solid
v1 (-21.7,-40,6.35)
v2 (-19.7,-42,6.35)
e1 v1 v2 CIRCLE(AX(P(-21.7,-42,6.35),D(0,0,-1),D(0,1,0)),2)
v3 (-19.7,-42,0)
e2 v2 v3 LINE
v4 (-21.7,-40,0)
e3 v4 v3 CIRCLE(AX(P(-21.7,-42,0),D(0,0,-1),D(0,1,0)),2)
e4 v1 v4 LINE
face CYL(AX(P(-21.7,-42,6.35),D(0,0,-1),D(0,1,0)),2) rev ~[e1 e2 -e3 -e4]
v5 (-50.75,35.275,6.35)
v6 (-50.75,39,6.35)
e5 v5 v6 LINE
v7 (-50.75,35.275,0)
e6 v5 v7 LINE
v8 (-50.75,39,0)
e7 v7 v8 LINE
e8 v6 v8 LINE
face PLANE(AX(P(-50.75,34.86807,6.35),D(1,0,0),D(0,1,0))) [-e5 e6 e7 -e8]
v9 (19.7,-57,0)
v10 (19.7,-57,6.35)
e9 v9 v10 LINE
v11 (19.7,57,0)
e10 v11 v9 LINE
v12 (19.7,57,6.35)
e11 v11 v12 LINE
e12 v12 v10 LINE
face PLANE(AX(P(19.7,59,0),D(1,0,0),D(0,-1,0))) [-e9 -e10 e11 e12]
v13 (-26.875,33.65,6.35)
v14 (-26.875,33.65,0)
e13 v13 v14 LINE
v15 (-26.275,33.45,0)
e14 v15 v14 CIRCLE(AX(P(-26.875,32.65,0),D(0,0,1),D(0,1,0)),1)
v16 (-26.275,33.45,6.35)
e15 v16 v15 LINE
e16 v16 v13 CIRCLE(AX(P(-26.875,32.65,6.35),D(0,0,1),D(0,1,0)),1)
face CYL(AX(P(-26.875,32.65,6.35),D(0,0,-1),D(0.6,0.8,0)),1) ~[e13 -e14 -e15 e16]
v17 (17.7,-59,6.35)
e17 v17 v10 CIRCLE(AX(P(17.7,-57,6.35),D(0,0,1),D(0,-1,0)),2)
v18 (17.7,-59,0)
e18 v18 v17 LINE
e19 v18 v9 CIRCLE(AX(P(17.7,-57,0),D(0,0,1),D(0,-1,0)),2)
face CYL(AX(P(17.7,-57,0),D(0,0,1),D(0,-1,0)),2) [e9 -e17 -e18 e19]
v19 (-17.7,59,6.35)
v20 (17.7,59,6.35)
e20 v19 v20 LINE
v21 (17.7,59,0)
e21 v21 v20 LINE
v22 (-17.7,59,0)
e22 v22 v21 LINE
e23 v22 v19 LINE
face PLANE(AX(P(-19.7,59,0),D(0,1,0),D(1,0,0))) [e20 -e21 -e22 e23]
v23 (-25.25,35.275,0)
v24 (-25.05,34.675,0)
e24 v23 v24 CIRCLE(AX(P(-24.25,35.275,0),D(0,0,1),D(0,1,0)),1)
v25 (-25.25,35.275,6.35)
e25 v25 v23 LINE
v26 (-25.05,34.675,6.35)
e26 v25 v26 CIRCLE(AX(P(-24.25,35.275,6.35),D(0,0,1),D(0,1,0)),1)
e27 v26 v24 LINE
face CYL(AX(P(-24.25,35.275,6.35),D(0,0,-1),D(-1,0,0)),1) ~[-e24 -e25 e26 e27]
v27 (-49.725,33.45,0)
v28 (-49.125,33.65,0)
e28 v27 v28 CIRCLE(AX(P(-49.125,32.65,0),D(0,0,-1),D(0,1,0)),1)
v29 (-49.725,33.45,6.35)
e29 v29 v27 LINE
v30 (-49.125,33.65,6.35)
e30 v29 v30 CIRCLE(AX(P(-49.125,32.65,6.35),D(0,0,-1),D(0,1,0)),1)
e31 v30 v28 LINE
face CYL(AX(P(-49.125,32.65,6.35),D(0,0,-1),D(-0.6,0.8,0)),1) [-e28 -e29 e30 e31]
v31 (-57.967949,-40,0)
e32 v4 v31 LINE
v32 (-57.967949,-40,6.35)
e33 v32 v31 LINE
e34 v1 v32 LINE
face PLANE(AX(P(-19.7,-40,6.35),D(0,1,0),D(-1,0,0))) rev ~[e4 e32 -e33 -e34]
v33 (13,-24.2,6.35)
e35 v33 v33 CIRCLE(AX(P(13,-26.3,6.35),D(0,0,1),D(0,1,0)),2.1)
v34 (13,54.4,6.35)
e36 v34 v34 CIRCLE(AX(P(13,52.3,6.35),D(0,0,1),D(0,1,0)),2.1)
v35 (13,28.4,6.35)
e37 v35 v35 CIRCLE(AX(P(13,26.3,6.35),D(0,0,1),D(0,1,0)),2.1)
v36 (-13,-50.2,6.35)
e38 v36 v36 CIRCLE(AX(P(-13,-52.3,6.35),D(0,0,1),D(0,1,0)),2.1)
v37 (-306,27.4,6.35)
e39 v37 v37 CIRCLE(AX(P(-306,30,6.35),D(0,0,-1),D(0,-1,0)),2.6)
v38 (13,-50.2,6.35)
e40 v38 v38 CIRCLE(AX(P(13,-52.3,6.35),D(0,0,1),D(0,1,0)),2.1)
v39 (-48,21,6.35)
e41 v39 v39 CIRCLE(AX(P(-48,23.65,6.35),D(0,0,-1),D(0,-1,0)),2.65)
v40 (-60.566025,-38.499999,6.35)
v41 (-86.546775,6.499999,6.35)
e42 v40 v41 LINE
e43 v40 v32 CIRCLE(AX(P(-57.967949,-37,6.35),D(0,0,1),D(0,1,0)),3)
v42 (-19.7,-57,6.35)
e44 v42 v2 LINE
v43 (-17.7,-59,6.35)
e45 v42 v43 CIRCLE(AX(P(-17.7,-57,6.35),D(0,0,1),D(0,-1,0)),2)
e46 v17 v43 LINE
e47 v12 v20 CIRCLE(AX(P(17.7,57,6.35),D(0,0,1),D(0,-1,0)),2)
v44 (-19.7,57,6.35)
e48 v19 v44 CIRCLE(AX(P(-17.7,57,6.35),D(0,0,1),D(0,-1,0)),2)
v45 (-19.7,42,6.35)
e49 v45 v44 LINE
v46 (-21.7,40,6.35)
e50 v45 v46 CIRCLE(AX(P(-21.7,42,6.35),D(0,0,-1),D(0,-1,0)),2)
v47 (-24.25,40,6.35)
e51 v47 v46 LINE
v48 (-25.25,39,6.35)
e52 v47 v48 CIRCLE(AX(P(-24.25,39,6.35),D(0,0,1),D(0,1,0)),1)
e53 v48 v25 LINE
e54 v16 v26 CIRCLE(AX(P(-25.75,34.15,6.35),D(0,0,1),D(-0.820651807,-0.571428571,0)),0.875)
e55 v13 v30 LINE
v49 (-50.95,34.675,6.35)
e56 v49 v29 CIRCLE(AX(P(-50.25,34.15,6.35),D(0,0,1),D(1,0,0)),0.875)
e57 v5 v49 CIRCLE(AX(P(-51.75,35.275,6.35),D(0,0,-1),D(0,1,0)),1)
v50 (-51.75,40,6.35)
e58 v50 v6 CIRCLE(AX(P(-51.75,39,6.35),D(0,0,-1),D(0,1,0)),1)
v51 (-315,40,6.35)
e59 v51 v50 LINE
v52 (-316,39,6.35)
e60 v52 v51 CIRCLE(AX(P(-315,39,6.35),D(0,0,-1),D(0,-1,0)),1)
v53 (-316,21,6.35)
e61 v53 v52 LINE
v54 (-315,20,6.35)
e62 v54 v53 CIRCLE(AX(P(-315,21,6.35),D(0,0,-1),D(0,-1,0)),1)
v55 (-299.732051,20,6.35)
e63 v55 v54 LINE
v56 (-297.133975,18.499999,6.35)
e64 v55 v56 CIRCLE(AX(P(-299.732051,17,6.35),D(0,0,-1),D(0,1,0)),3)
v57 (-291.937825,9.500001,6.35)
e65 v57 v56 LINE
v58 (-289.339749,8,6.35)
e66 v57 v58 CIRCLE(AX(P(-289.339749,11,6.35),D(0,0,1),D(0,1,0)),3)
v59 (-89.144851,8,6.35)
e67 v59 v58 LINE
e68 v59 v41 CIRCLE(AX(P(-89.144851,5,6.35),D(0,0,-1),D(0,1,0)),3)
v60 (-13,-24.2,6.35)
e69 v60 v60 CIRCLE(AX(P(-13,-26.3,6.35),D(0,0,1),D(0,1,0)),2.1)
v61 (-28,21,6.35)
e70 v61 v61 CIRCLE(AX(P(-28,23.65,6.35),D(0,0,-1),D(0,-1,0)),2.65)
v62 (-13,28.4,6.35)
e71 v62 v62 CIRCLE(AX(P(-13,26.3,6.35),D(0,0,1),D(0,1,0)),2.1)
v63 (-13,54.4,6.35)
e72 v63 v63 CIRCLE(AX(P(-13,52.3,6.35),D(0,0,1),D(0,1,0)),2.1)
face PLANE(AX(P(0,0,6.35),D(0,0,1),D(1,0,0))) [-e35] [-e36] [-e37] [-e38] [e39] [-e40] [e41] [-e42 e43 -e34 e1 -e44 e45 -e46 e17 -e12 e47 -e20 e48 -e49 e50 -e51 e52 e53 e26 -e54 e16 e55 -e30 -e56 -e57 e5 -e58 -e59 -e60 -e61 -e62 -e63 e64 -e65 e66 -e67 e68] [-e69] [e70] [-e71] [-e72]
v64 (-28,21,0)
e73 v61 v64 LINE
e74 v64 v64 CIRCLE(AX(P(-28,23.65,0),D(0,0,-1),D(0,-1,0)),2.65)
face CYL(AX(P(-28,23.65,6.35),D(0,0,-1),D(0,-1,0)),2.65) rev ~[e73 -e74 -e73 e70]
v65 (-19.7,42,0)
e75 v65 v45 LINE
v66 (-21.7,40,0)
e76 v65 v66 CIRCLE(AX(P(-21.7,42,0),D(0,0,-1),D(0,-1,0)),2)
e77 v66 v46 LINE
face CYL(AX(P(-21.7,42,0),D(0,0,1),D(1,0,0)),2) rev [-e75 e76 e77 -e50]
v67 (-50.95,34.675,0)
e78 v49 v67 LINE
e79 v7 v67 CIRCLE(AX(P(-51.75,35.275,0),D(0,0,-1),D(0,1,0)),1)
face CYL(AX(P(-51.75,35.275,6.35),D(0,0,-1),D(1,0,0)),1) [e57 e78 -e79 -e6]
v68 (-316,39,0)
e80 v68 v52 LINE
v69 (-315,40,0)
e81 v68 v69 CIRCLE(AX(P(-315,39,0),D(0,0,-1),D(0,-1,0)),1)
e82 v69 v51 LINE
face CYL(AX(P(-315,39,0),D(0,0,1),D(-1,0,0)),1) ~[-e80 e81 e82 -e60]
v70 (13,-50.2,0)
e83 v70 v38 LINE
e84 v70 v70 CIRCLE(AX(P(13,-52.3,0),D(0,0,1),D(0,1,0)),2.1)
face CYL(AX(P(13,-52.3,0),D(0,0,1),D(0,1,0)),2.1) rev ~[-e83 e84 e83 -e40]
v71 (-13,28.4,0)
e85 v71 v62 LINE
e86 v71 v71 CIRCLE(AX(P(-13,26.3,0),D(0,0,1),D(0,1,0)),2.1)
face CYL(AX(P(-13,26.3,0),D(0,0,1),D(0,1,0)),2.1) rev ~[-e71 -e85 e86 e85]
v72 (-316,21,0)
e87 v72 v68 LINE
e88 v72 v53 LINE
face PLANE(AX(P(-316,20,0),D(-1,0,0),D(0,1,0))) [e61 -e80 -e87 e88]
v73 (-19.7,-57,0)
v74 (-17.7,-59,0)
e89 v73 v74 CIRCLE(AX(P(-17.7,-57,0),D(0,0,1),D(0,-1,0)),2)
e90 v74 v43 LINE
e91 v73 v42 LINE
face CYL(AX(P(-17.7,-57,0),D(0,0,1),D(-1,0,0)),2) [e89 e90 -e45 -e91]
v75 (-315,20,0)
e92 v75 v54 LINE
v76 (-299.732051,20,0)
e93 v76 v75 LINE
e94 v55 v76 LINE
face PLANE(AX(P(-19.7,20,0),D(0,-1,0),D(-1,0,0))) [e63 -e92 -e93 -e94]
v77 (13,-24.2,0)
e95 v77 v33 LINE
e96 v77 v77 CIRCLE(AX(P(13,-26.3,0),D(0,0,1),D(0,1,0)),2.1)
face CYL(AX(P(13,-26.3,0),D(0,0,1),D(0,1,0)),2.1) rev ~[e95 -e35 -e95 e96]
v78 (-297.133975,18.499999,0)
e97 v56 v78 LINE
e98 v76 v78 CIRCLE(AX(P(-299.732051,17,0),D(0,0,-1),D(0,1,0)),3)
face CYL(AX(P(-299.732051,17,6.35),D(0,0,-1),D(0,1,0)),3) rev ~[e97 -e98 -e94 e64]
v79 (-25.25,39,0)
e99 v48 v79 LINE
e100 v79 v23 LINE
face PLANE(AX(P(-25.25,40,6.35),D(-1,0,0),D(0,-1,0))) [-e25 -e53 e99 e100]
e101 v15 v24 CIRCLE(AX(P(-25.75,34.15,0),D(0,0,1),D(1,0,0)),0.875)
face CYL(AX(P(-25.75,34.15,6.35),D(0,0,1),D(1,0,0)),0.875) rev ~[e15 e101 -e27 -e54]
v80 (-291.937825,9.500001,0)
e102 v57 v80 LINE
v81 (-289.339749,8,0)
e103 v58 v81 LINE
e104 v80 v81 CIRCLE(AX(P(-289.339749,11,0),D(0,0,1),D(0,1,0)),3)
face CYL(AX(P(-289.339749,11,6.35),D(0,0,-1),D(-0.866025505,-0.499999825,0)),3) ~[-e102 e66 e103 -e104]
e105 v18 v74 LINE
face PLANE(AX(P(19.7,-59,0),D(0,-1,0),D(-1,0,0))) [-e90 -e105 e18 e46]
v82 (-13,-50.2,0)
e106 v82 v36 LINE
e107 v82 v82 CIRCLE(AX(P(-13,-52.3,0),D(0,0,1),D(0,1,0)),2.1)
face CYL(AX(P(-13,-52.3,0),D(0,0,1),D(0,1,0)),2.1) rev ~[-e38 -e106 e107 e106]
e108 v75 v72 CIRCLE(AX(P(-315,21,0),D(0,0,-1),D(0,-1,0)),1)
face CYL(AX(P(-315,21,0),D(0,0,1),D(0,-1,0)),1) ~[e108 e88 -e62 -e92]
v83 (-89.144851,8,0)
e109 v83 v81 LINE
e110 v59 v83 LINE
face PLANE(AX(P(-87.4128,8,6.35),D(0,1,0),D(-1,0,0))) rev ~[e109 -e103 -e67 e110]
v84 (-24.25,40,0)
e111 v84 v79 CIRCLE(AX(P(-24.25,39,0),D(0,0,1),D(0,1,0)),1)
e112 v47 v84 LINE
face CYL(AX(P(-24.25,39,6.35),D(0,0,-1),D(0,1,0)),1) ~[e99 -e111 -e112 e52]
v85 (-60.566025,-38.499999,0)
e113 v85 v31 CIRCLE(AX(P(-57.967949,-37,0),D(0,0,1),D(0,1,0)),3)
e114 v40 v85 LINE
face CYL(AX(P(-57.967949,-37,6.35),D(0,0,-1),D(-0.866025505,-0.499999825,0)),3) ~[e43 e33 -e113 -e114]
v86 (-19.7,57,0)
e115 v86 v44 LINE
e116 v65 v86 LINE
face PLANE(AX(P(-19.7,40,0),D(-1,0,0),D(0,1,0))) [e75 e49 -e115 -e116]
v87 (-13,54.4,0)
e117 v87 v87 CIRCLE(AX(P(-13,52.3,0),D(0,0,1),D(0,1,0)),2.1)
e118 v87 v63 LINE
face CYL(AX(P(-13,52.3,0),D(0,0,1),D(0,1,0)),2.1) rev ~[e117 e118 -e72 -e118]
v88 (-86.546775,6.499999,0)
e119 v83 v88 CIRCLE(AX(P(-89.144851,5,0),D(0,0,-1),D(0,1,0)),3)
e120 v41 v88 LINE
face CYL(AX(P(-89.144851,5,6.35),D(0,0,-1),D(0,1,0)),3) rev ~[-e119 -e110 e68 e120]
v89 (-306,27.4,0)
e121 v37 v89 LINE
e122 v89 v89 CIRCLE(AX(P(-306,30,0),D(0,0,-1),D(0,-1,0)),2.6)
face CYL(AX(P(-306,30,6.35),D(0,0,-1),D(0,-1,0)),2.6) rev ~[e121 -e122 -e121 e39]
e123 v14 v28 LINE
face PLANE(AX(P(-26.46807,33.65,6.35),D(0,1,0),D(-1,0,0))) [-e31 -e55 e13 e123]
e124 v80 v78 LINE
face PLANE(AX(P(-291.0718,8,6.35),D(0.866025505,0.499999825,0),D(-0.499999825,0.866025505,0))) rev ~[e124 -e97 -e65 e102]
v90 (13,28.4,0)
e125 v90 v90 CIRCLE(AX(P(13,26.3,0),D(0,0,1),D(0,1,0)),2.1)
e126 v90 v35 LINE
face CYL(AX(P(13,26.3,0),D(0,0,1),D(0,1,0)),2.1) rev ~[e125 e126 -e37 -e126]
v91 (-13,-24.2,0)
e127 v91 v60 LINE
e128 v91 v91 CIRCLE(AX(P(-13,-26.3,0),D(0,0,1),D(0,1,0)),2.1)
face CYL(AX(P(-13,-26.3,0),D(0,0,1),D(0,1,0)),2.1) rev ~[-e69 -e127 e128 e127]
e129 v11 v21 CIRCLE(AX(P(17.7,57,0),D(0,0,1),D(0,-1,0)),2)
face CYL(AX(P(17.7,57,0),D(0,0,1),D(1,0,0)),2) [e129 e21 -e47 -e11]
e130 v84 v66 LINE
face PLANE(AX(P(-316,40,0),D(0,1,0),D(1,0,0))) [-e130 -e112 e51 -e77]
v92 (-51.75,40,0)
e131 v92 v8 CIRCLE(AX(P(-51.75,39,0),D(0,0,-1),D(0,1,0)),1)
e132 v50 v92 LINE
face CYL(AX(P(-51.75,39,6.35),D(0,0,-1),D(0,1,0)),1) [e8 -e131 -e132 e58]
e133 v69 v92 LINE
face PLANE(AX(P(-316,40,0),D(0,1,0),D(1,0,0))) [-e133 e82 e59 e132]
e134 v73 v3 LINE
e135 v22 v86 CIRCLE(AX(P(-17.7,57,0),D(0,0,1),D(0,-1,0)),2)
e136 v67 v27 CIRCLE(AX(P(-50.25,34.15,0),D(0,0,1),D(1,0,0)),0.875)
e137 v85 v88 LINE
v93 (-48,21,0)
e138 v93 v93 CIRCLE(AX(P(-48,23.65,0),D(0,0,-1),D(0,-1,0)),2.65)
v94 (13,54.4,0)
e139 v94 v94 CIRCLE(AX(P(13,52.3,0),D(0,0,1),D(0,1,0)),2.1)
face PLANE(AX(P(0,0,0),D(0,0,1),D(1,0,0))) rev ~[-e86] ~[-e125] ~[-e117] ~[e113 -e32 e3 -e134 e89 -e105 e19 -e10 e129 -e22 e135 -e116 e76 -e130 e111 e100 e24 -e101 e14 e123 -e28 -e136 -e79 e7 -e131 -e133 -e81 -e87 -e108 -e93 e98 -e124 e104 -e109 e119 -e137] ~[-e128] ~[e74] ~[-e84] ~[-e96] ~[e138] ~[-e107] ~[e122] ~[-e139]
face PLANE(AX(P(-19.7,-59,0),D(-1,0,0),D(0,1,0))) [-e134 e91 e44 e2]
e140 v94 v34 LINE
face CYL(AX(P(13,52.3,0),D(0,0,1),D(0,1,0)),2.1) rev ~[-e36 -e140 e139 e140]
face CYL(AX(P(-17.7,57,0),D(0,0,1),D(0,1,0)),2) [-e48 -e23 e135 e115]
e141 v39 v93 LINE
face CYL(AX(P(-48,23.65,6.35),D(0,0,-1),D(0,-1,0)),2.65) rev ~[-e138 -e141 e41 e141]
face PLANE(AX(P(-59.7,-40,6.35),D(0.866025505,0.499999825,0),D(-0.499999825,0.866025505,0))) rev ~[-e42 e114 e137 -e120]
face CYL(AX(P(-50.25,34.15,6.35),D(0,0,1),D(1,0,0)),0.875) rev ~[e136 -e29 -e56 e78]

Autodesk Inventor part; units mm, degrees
ref_plane "YZ Plane" through (0, 0, 0) normal (1, 0, 0) x (0, 1, 0)
ref_plane "XZ Plane" through (0, 0, 0) normal (0, 1, 0) x (-1, 0, 0)
sketch "Sketch1" plane through (0, 0, 0) normal (0, 0, 1) x (1, 0, 0)
  line L0 (19.7, -70) -> (-19.7, -70)
  line L1 (-19.7, -70) -> (-19.7, 70)
  line L2 (-19.7, 70) -> (19.7, 70)
  line L3 (19.7, 70) -> (19.7, -70)
  line L4 (19.7, -70) -> (-19.7, 70) construction
  line L5 (-19.7, -70) -> (19.7, 70) construction
  line L6 (19.7, 8.6) -> (-19.7, 8.6) construction
  line L7 (-19.7, 8.6) -> (-19.7, 70) construction
  line L8 (-19.7, 70) -> (19.7, 70) construction
  line L9 (19.7, 70) -> (19.7, 8.6) construction
  line L10 (19.7, 8.6) -> (-19.7, 70) construction
  line L11 (-19.7, 8.6) -> (19.7, 70) construction
  line L12 (19.7, -70) -> (-19.7, -70) construction
  line L13 (-19.7, -70) -> (-19.7, -8.6) construction
  line L14 (-19.7, -8.6) -> (19.7, -8.6) construction
  line L15 (19.7, -8.6) -> (19.7, -70) construction
  line L16 (19.7, -70) -> (-19.7, -8.6) construction
  line L17 (-19.7, -70) -> (19.7, -8.6) construction
  line L18 (19.7, 19.6) -> (-19.7, 19.6) construction
  line L19 (-19.7, 19.6) -> (-19.7, 59) construction
  line L20 (-19.7, 59) -> (19.7, 59)
  line L21 (19.7, 59) -> (19.7, 19.6) construction
  line L22 (19.7, 19.6) -> (-19.7, 59) construction
  line L23 (-19.7, 19.6) -> (19.7, 59) construction
  line L24 (19.7, -59) -> (-19.7, -59)
  line L25 (-19.7, -59) -> (-19.7, -19.6) construction
  line L26 (-19.7, -19.6) -> (19.7, -19.6) construction
  line L27 (19.7, -19.6) -> (19.7, -59) construction
  line L28 (19.7, -59) -> (-19.7, -19.6) construction
  line L29 (-19.7, -59) -> (19.7, -19.6) construction
  line L30 (13, 26.3) -> (-13, 26.3) construction
  line L31 (-13, 26.3) -> (-13, 52.3) construction
  line L32 (-13, 52.3) -> (13, 52.3) construction
  line L33 (13, 52.3) -> (13, 26.3) construction
  line L34 (13, 26.3) -> (-13, 52.3) construction
  line L35 (-13, 26.3) -> (13, 52.3) construction
  line L36 (13, -52.3) -> (-13, -52.3) construction
  line L37 (-13, -52.3) -> (-13, -26.3) construction
  line L38 (-13, -26.3) -> (13, -26.3) construction
  line L39 (13, -26.3) -> (13, -52.3) construction
  line L40 (13, -52.3) -> (-13, -26.3) construction
  line L41 (-13, -52.3) -> (13, -26.3) construction
  line L42 (-316, 40) -> (-19.7, 40)
  line L43 (-19.7, 40) -> (-19.7, 20)
  line L44 (-19.7, 20) -> (-316, 20)
  line L45 (-316, 20) -> (-316, 40)
  line L46 (19.7, -66) -> (19.7, -66)
  line L47 (19.772, 73.498) -> (19.772, 73.498)
  point P0 (0, 0)
  point P1 (0, 39.3)
  point P2 (0, -39.3)
  point P3 (-316, 30)
  point P4 (-291, 20)
  point P5 (17, 72.5)
  point P6 (17, -72.5)
  point P7 (-19.7, 40)
  point P8 (-19.7, 20)
  point P9 (-19.7, -59)
  point P10 (19.7, 59)
  point P11 (-19.7, 59)
  dimension "d1" = 140
  dimension "d2" = 61.4
  dimension "d3" = 39.4
  dimension "d4" = 26
  dimension "d5" = 26
  dimension "d6" = 20
  dimension "d8" = 316
  dimension "d11" = 25
  dimension "d55" = 30
  dimension "d126" = 6.7
  dimension "d128" = 6.7
extrude "Extrusion1" add sketch "Sketch1" along normal blind 6.35 contours L24 L1 L20 L3 | L44 L45 L42 L1
sketch "Sketch2" plane through (0, 0, 6.35) normal (0, 0, 1) x (1, 0, 0)
  line L0 (19.7, -59) -> (19.7, 59) projected
  line L1 (-19.7, 59) -> (-19.7, 40) projected
  line L2 (-19.7, 40) -> (-316, 40) projected
  line L3 (-316, 40) -> (-316, 20) projected
  line L4 (-316, 20) -> (-19.7, 20) projected
  line L5 (-19.7, 20) -> (-19.7, -59) projected
  line L6 (19.7, -59) -> (-19.7, -59) construction
  line L7 (-19.7, -59) -> (19.7, -59) projected
  line L8 (19.7, 59) -> (-19.7, 59) projected
  line L9 (-19.7, -40) -> (-59.7, -40)
  line L10 (-59.7, -40) -> (-87.4128, 8)
  line L11 (-87.4128, 8) -> (-291.0718, 8)
  line L12 (-291.0718, 8) -> (-298, 20)
  point P0 (0, 0)
  point P1 (0, 39.3)
  point P2 (0, -39.3)
  point P3 (13, 26.3)
  point P4 (13, -26.3)
  dimension "d25" = 18
  dimension "d78" = 40
  dimension "d124" = 19
  dimension "d125" = 19
  dimension "d139" = 120
  dimension "d140" = 12
extrude "Extrusion2" add sketch "Sketch2" against normal up to surface (6.35 mm away) contours L9 L10 L11 L12 L4 L5
hole "Hole1" at (-13, 52.3, 0) at (13, 52.3, 0) at (13, 26.3, 0) at (-13, 26.3, 0) at (-13, -26.3, 0) at (13, -26.3, 0) at (13, -52.3, 0) at (-13, -52.3, 0) direction (0, 0, 1) diameter 4.2 end through all
sketch "Z POSITIONING" plane through (0, 0, 6.35) normal (0, 0, 1) x (1, 0, 0)
  circle A0 centre (-13, -52.3) radius 2.1 projected
  circle A1 centre (13, -52.3) radius 2.1 projected
  circle A2 centre (13, -26.3) radius 2.1 projected
  circle A3 centre (-13, -26.3) radius 2.1 projected
  circle A4 centre (-13, 26.3) radius 2.1 projected
  circle A5 centre (13, 26.3) radius 2.1 projected
  circle A6 centre (13, 52.3) radius 2.1 projected
  circle A7 centre (-13, 52.3) radius 2.1 projected
  line L0 (-19.7, 40) -> (-316, 40) projected
  line L1 (-316, 40) -> (-316, 20) projected
  line L2 (-316, 20) -> (-298, 20) projected
  line L3 (-73.0306, 76.9979) -> (-73.0306, 70.6479)
  line L4 (-13, 52.3) -> (13, 52.3) construction
  line L5 (-51.9212, 48) -> (-16.9212, 48) construction
  line L6 (-16.9212, 48) -> (-16.9212, 40) construction
  line L7 (-16.9212, 40) -> (-51.9212, 40) construction
  line L8 (-51.9212, 40) -> (-51.9212, 48) construction
  line L9 (-51.9212, 82.15) -> (-6.1684, 82.15) construction
  line L10 (-125.0107, 88.5) -> (3.0638, 88.5) construction
  line L11 (3.0638, 88.5) -> (3.0638, 82.15) construction
  line L12 (3.0638, 82.15) -> (-125.0107, 82.15) construction
  line L13 (-125.0107, 82.15) -> (-125.0107, 88.5) construction
  line L14 (-120.28, 101.5) -> (-45.2895, 101.5) construction
  line L15 (-45.2895, 101.5) -> (-45.2895, 88.5) construction
  line L16 (-45.2895, 88.5) -> (-120.28, 88.5) construction
  line L17 (-120.28, 88.5) -> (-120.28, 101.5) construction
  line L18 (-46.2871, 43.2481) -> (-33.7765, 43.2481) construction
  line L19 (-33.7765, 43.2481) -> (-33.7765, 40) construction
  line L20 (-33.7765, 40) -> (-46.2871, 40) construction
  line L21 (-46.2871, 40) -> (-46.2871, 43.2481) construction
  line L22 (-83.6356, 76.3105) -> (-20.2105, 76.3105) construction
  line L23 (-20.2105, 76.3105) -> (-20.2105, 72.407) construction
  line L24 (-20.2105, 72.407) -> (-83.6356, 72.407) construction
  line L25 (-83.6356, 72.407) -> (-83.6356, 76.3105) construction
  line L26 (-72.5883, 86.1984) -> (-50.3384, 86.1984) construction
  line L27 (-50.3384, 86.1984) -> (-50.3384, 82.15) construction
  line L28 (-50.3384, 82.15) -> (-72.5883, 82.15) construction
  line L29 (-72.5883, 82.15) -> (-72.5883, 86.1984) construction
  line L30 (-111.3546, 92.5484) -> (-73.1953, 92.5484) construction
  line L31 (-73.1953, 92.5484) -> (-73.1953, 88.5) construction
  line L32 (-73.1953, 88.5) -> (-111.3546, 88.5) construction
  line L33 (-111.3546, 88.5) -> (-111.3546, 92.5484) construction
  line L34 (-122.3616, 107.85) -> (-60.8324, 107.85) construction
  line L35 (-60.8324, 107.85) -> (-60.8324, 101.5) construction
  line L36 (-60.8324, 101.5) -> (-122.3616, 101.5) construction
  line L37 (-122.3616, 101.5) -> (-122.3616, 107.85) construction
  line L38 (-97.4496, 120.85) -> (-64.4997, 120.85) construction
  line L39 (-64.4997, 120.85) -> (-64.4997, 107.85) construction
  line L40 (-64.4997, 107.85) -> (-97.4496, 107.85) construction
  line L41 (-97.4496, 107.85) -> (-97.4496, 120.85) construction
  line L42 (-105.6043, 105.5261) -> (-84.5103, 105.5261) construction
  line L43 (-84.5103, 105.5261) -> (-84.5103, 101.5) construction
  line L44 (-84.5103, 101.5) -> (-105.6043, 101.5) construction
  line L45 (-105.6043, 101.5) -> (-105.6043, 105.5261) construction
  line L46 (-109.4941, 111.8984) -> (-71.3471, 111.8984) construction
  line L47 (-71.3471, 111.8984) -> (-71.3471, 107.85) construction
  line L48 (-71.3471, 107.85) -> (-109.4941, 107.85) construction
  line L49 (-109.4941, 107.85) -> (-109.4941, 111.8984) construction
  line L50 (-134.6087, 124.025) -> (-34.6087, 124.025) construction
  line L51 (-34.6087, 124.025) -> (-34.6087, 120.85) construction
  line L52 (-34.6087, 120.85) -> (-134.6087, 120.85) construction
  line L53 (-134.6087, 120.85) -> (-134.6087, 124.025) construction
  line L54 (-97.1464, 128.0511) -> (-69.166, 128.0511) construction
  line L55 (-69.166, 128.0511) -> (-69.166, 124.025) construction
  line L56 (-69.166, 124.025) -> (-97.1464, 124.025) construction
  line L57 (-97.1464, 124.025) -> (-97.1464, 128.0511) construction
  line L58 (-143.7669, 74.15) -> (-108.5896, 74.15) construction
  line L59 (-148.1315, 74.15) -> (-115.878, 74.15) construction
  line L60 (-115.878, 74.15) -> (-115.878, 70.9884) construction
  line L61 (-115.878, 70.9884) -> (-148.1315, 70.9884) construction
  line L62 (-148.1315, 70.9884) -> (-148.1315, 74.15) construction
  line L63 (-59.7, -40) -> (-19.7, -40) projected
  line L64 (-19.7, -40) -> (-19.7, -59) projected
  line L65 (-19.7, -59) -> (19.7, -59) projected
  line L66 (19.7, -59) -> (19.7, 59) projected
  line L67 (19.7, 59) -> (-19.7, 59) projected
  line L68 (-19.7, 59) -> (-19.7, 40) projected
  line L69 (-298, 20) -> (-291.0718, 8) projected
  line L70 (-291.0718, 8) -> (-87.4128, 8) projected
  line L71 (-87.4128, 8) -> (-59.7, -40) projected
  point P0 (0, 0)
  point P1 (0, 52.3)
  dimension "d39" = 6.35
  dimension "d42" = 35
  dimension "d43" = 8
  dimension "d44" = 34.15
  dimension "d45" = 6.35
  dimension "d46" = 13
  dimension "d48" = 6.35
  dimension "d49" = 13
  dimension "d50" = 100
  dimension "d51" = 3.175
  dimension "d52" = 46.7
  dimension "d53" = 34.15
ref_plane "PRINTBED PLANE" through (-316, 74.15, 6.35) normal (0, 1, 0) x (1, 0, 0)
sketch "Y POSITIONING" plane through (0, 0, 6.35) normal (0, 0, 1) x (1, 0, 0)
  line L0 (-315, 74.15) -> (-29, 74.15) construction
  line L1 (-306, 74.15) -> (-306, 54.4706) construction
  line L2 (-38, 74.15) -> (-38, 59.15) construction
  line L3 (-316, 40) -> (-316, 20) projected
  line L4 (-32, 40) -> (-44, 40) construction
  line L5 (-44, 40) -> (-44, 74.15) construction
  line L6 (-44, 74.15) -> (-32, 74.15) construction
  line L7 (-32, 74.15) -> (-32, 40) construction
  line L8 (-32, 40) -> (-44, 74.15) construction
  line L9 (-44, 40) -> (-32, 74.15) construction
  line L10 (-19.7, 40) -> (-316, 40) projected
  circle A0 centre (-13, -52.3) radius 2.1 projected
  circle A1 centre (13, -52.3) radius 2.1 projected
  circle A2 centre (13, -26.3) radius 2.1 projected
  circle A3 centre (-13, -26.3) radius 2.1 projected
  circle A4 centre (-13, 26.3) radius 2.1 projected
  circle A5 centre (13, 26.3) radius 2.1 projected
  circle A6 centre (13, 52.3) radius 2.1 projected
  circle A7 centre (-13, 52.3) radius 2.1 projected
  line L11 (-19.7, 40) -> (-316, 40) projected
  line L12 (-316, 40) -> (-316, 20) projected
  line L13 (-316, 20) -> (-298, 20) projected
  line L14 (-13, 52.3) -> (13, 26.3) construction
  line L15 (-383.14, 74.15) -> (86.84, 74.15) construction
  line L16 (-53, 40) -> (-23, 40) construction
  line L17 (-23, 40) -> (-23, 48) construction
  line L18 (-23, 48) -> (-53, 48) construction
  line L19 (-53, 48) -> (-53, 40) construction
  line L20 (-53, 40) -> (-23, 48) construction
  line L21 (-23, 40) -> (-53, 48) construction
  line L22 (-59.7, -40) -> (-19.7, -40) projected
  line L23 (-58, 33.65) -> (-18, 33.65) construction
  line L24 (-18, 33.65) -> (-18, 13.65) construction
  line L25 (-18, 13.65) -> (-58, 13.65) construction
  line L26 (-58, 13.65) -> (-58, 33.65) construction
  line L27 (-48, 23.65) -> (-28, 23.65) construction
  line L28 (-19.7, -40) -> (-19.7, -59) projected
  line L29 (-19.7, -59) -> (19.7, -59) projected
  line L30 (19.7, -59) -> (19.7, 59) projected
  line L31 (19.7, 59) -> (-19.7, 59) projected
  line L32 (-19.7, 59) -> (-19.7, 40) projected
  line L33 (-298, 20) -> (-291.0718, 8) projected
  line L34 (-291.0718, 8) -> (-87.4128, 8) projected
  line L35 (-87.4128, 8) -> (-59.7, -40) projected
  point P0 (0, 0)
  point P1 (-38, 57.075)
  point P2 (-32, 47.5)
  point P3 (0, 39.3)
  point P4 (-38, 44)
  point P5 (-38, 40)
  point P6 (-38, 33.65)
  point P7 (-38, 23.65)
  point P8 (-18, 23.65)
  dimension "d58" = 286
  dimension "d60" = 9
  dimension "d61" = 10
  dimension "d62" = 12
  dimension "d63" = 38
  dimension "d64" = 9
  dimension "d65" = 30
  dimension "d66" = 8
  dimension "d67" = 15
  dimension "d68" = 19.15
  dimension "d83" = 40
  dimension "d84" = 20
  dimension "d85" = 6.35
  dimension "d90" = 20
sketch "Sketch5" plane through (0, 0, 6.35) normal (0, 0, 1) x (1, 0, 0)
  line L0 (-296, 20) -> (-316, 20) construction
  line L1 (-316, 20) -> (-316, 40) construction
  line L2 (-316, 40) -> (-296, 40) construction
  line L3 (-296, 40) -> (-296, 20) construction
  line L4 (-296, 20) -> (-316, 40) construction
  line L5 (-316, 20) -> (-296, 40) construction
  point P0 (0, 0)
  point P1 (-306, 30)
  point P2 (-306, 30)
hole "Hole2" at (-306, 30, 6.35) direction (0, 0, -1) diameter 5.2 end through all
sketch "Sketch6" plane through (0, 0, 6.35) normal (0, 0, 1) x (1, 0, 0)
  line L0 (-50.75, 40) -> (-25.25, 40)
  line L1 (-25.25, 40) -> (-25.25, 33.65)
  line L2 (-25.25, 33.65) -> (-50.75, 33.65)
  line L3 (-50.75, 33.65) -> (-50.75, 40)
  line L4 (-38, 74.15) -> (-38, 59.15) construction
  line L5 (-19.7, 40) -> (-316, 40) projected
  line L6 (-58, 33.65) -> (-18, 33.65) construction
  circle A0 centre (-50.25, 34.15) radius 0.875
  circle A1 centre (-25.75, 34.15) radius 0.875
  point P0 (0, 0)
  point P1 (-38, 40)
  point P2 (-32, 47.5)
  point P3 (-26.4681, 33.65)
  point P4 (-25.25, 34.8681)
  point P5 (-50.75, 34.8681)
  point P6 (-49.5319, 33.65)
  dimension "d79" = 25.5
  dimension "d86" = 1.75
  dimension "d87" = 0.5
  dimension "d88" = 0.5
  dimension "d89" = 0.5
extrude "Extrusion3" cut sketch "Sketch6" against normal through all
hole "Hole3" at (-48, 23.65, 6.35) at (-28, 23.65, 6.35) direction (0, 0, -1) diameter 5.3 end through all
sketch "Sketch9" plane through (0, 0, 6.35) normal (0, 0, 1) x (1, 0, 0)
  circle A0 centre (-28, 23.65) radius 2.65 projected
  circle A1 centre (-48, 23.65) radius 2.65 projected
  line L0 (-50.75, 34.8681) -> (-50.75, 40) projected
  line L1 (-50.75, 40) -> (-316, 40) projected
  line L2 (-316, 40) -> (-316, 20) projected
  line L3 (-316, 20) -> (-298, 20) projected
  line L4 (-59.7, -40) -> (-19.7, -40) projected
  line L5 (-25.25, 40) -> (-25.25, 34.8681) projected
  arc A2 (-26.4681, 33.65) -> (-25.25, 34.8681) centre (-25.75, 34.15) ccw projected
  line L6 (-26.4681, 33.65) -> (-49.5319, 33.65) projected
  arc A3 (-50.75, 34.8681) -> (-49.5319, 33.65) centre (-50.25, 34.15) ccw projected
  circle A4 centre (-306, 30) radius 2.6 projected
  circle A5 centre (-13, -52.3) radius 2.1 projected
  circle A6 centre (13, -52.3) radius 2.1 projected
  circle A7 centre (13, -26.3) radius 2.1 projected
  circle A8 centre (-13, -26.3) radius 2.1 projected
  circle A9 centre (-13, 26.3) radius 2.1 projected
  circle A10 centre (13, 26.3) radius 2.1 projected
  circle A11 centre (13, 52.3) radius 2.1 projected
  circle A12 centre (-13, 52.3) radius 2.1 projected
  line L7 (-19.7, -40) -> (-19.7, -59) projected
  line L8 (-19.7, -59) -> (19.7, -59) projected
  line L9 (19.7, -59) -> (19.7, 59) projected
  line L10 (19.7, 59) -> (-19.7, 59) projected
  line L11 (-19.7, 59) -> (-19.7, 40) projected
  line L12 (-19.7, 40) -> (-25.25, 40) projected
  line L13 (-298, 20) -> (-291.0718, 8) projected
  line L14 (-291.0718, 8) -> (-87.4128, 8) projected
  line L15 (-87.4128, 8) -> (-59.7, -40) projected
  point P0 (0, 0)
fillet "Fillet3" radius 1 8 edges at (-316, 40, 3.175) (-316, 20, 3.175) (-50.75, 40, 3.175) (-50.75, 34.8681, 3.175) (-49.5319, 33.65, 3.175) (-26.4681, 33.65, 3.175) (-25.25, 34.8681, 3.175) (-25.25, 40, 3.175)
fillet "Fillet4" radius 3 4 edges at (-59.7, -40, 3.175) (-291.0718, 8, 3.175) (-87.4128, 8, 3.175) (-298, 20, 3.175)
fillet "Fillet5" radius 2 6 edges at (-19.7, 40, 3.175) (-19.7, 59, 3.175) (19.7, 59, 3.175) (-19.7, -40, 3.175) (-19.7, -59, 3.175) (19.7, -59, 3.175)
sketch "Sketch10" plane through (0, 0, 6.35) normal (0, 0, 1) x (1, 0, 0)
  line L0 (-163.15, 17.9395) -> (-148.15, 26.5998)
  line L1 (-148.15, 26.5998) -> (-133.15, 17.9395)
  line L2 (-133.15, 17.9395) -> (-133.15, 0.619)
  line L3 (-133.15, 0.619) -> (-148.15, -8.0412)
  line L4 (-148.15, -8.0412) -> (-163.15, 0.619)
  line L5 (-163.15, 0.619) -> (-163.15, 17.9395)
  arc A0 (17.7, -59) -> (19.7, -57) centre (17.7, -57) ccw projected
  line L6 (19.7, -57) -> (19.7, 57) projected
  arc A1 (19.7, 57) -> (17.7, 59) centre (17.7, 57) ccw projected
  line L7 (17.7, 59) -> (-17.7, 59) projected
  arc A2 (-17.7, 59) -> (-19.7, 57) centre (-17.7, 57) ccw projected
  line L8 (-19.7, 57) -> (-19.7, 42) projected
  arc A3 (-21.7, 40) -> (-19.7, 42) centre (-21.7, 42) ccw projected
  line L9 (-21.7, 40) -> (-24.25, 40) projected
  arc A4 (-24.25, 40) -> (-25.25, 39) centre (-24.25, 39) ccw projected
  line L10 (-25.25, 39) -> (-25.25, 35.275) projected
  arc A5 (-25.25, 35.275) -> (-25.05, 34.675) centre (-24.25, 35.275) ccw projected
  arc A6 (-26.275, 33.45) -> (-25.05, 34.675) centre (-25.75, 34.15) ccw projected
  arc A7 (-26.275, 33.45) -> (-26.875, 33.65) centre (-26.875, 32.65) ccw projected
  line L11 (-26.875, 33.65) -> (-49.125, 33.65) projected
  arc A8 (-49.125, 33.65) -> (-49.725, 33.45) centre (-49.125, 32.65) ccw projected
  arc A9 (-50.95, 34.675) -> (-49.725, 33.45) centre (-50.25, 34.15) ccw projected
  arc A10 (-50.95, 34.675) -> (-50.75, 35.275) centre (-51.75, 35.275) ccw projected
  line L12 (-50.75, 35.275) -> (-50.75, 39) projected
  arc A11 (-50.75, 39) -> (-51.75, 40) centre (-51.75, 39) ccw projected
  line L13 (-51.75, 40) -> (-315, 40) projected
  arc A12 (-315, 40) -> (-316, 39) centre (-315, 39) ccw projected
  line L14 (-316, 39) -> (-316, 21) projected
  arc A13 (-316, 21) -> (-315, 20) centre (-315, 21) ccw projected
  line L15 (-315, 20) -> (-301.6658, 20) projected
  arc A14 (-300.3574, 19.8258) -> (-301.6658, 20) centre (-301.6658, 15) ccw projected
  line L16 (-300.3574, 19.8258) -> (-80.3426, -39.8258) projected
  arc A15 (-80.3426, -39.8258) -> (-79.0342, -40) centre (-79.0342, -35) ccw projected
  line L17 (-79.0342, -40) -> (-21.7, -40) projected
  arc A16 (-19.7, -42) -> (-21.7, -40) centre (-21.7, -42) ccw projected
  line L18 (-19.7, -42) -> (-19.7, -57) projected
  arc A17 (-19.7, -57) -> (-17.7, -59) centre (-17.7, -57) ccw projected
  line L19 (-17.7, -59) -> (17.7, -59) projected
  circle A18 centre (-28, 23.65) radius 2.65 projected
  circle A19 centre (-48, 23.65) radius 2.65 projected
  circle A20 centre (-306, 30) radius 2.6 projected
  circle A21 centre (-13, -52.3) radius 2.1 projected
  circle A22 centre (13, -52.3) radius 2.1 projected
  circle A23 centre (13, -26.3) radius 2.1 projected
  circle A24 centre (-13, -26.3) radius 2.1 projected
  circle A25 centre (-13, 26.3) radius 2.1 projected
  circle A26 centre (13, 26.3) radius 2.1 projected
  circle A27 centre (13, 52.3) radius 2.1 projected
  circle A28 centre (-13, 52.3) radius 2.1 projected
  line L20 (-163.15, 17.9395) -> (-148.15, 9.2793)
  line L21 (-148.15, 9.2793) -> (-133.15, 17.9395)
  line L22 (-148.15, 9.2793) -> (-148.15, -8.0412) construction
  line L23 (-148.15, 0.619) -> (-163.15, 9.2793)
  line L24 (-148.15, 0.619) -> (-133.15, 9.2793)
  line L25 (-133.15, 15.0528) -> (-148.15, 6.3925)
  line L26 (-148.15, 6.3925) -> (-163.15, 15.0528)
  line L27 (-163.15, 6.3925) -> (-148.15, -2.2677)
  line L28 (-148.15, -2.2677) -> (-133.15, 6.3925)
  line L29 (-51.75, 40) -> (-315, 40) construction
  line L30 (-148.15, 40) -> (-148.15, -21.4415) construction
  line L31 (-316, 30) -> (19.7, 30) construction
  point P0 (0, 0)
  point P1 (-148.15, 30)
  dimension "d132" = 30
  dimension "d133" = 5
  dimension "d134" = 2.5
  dimension "d135" = 5
equation "\"d54\" = d53"
properties part number "Z-Axis Bed Plates"
